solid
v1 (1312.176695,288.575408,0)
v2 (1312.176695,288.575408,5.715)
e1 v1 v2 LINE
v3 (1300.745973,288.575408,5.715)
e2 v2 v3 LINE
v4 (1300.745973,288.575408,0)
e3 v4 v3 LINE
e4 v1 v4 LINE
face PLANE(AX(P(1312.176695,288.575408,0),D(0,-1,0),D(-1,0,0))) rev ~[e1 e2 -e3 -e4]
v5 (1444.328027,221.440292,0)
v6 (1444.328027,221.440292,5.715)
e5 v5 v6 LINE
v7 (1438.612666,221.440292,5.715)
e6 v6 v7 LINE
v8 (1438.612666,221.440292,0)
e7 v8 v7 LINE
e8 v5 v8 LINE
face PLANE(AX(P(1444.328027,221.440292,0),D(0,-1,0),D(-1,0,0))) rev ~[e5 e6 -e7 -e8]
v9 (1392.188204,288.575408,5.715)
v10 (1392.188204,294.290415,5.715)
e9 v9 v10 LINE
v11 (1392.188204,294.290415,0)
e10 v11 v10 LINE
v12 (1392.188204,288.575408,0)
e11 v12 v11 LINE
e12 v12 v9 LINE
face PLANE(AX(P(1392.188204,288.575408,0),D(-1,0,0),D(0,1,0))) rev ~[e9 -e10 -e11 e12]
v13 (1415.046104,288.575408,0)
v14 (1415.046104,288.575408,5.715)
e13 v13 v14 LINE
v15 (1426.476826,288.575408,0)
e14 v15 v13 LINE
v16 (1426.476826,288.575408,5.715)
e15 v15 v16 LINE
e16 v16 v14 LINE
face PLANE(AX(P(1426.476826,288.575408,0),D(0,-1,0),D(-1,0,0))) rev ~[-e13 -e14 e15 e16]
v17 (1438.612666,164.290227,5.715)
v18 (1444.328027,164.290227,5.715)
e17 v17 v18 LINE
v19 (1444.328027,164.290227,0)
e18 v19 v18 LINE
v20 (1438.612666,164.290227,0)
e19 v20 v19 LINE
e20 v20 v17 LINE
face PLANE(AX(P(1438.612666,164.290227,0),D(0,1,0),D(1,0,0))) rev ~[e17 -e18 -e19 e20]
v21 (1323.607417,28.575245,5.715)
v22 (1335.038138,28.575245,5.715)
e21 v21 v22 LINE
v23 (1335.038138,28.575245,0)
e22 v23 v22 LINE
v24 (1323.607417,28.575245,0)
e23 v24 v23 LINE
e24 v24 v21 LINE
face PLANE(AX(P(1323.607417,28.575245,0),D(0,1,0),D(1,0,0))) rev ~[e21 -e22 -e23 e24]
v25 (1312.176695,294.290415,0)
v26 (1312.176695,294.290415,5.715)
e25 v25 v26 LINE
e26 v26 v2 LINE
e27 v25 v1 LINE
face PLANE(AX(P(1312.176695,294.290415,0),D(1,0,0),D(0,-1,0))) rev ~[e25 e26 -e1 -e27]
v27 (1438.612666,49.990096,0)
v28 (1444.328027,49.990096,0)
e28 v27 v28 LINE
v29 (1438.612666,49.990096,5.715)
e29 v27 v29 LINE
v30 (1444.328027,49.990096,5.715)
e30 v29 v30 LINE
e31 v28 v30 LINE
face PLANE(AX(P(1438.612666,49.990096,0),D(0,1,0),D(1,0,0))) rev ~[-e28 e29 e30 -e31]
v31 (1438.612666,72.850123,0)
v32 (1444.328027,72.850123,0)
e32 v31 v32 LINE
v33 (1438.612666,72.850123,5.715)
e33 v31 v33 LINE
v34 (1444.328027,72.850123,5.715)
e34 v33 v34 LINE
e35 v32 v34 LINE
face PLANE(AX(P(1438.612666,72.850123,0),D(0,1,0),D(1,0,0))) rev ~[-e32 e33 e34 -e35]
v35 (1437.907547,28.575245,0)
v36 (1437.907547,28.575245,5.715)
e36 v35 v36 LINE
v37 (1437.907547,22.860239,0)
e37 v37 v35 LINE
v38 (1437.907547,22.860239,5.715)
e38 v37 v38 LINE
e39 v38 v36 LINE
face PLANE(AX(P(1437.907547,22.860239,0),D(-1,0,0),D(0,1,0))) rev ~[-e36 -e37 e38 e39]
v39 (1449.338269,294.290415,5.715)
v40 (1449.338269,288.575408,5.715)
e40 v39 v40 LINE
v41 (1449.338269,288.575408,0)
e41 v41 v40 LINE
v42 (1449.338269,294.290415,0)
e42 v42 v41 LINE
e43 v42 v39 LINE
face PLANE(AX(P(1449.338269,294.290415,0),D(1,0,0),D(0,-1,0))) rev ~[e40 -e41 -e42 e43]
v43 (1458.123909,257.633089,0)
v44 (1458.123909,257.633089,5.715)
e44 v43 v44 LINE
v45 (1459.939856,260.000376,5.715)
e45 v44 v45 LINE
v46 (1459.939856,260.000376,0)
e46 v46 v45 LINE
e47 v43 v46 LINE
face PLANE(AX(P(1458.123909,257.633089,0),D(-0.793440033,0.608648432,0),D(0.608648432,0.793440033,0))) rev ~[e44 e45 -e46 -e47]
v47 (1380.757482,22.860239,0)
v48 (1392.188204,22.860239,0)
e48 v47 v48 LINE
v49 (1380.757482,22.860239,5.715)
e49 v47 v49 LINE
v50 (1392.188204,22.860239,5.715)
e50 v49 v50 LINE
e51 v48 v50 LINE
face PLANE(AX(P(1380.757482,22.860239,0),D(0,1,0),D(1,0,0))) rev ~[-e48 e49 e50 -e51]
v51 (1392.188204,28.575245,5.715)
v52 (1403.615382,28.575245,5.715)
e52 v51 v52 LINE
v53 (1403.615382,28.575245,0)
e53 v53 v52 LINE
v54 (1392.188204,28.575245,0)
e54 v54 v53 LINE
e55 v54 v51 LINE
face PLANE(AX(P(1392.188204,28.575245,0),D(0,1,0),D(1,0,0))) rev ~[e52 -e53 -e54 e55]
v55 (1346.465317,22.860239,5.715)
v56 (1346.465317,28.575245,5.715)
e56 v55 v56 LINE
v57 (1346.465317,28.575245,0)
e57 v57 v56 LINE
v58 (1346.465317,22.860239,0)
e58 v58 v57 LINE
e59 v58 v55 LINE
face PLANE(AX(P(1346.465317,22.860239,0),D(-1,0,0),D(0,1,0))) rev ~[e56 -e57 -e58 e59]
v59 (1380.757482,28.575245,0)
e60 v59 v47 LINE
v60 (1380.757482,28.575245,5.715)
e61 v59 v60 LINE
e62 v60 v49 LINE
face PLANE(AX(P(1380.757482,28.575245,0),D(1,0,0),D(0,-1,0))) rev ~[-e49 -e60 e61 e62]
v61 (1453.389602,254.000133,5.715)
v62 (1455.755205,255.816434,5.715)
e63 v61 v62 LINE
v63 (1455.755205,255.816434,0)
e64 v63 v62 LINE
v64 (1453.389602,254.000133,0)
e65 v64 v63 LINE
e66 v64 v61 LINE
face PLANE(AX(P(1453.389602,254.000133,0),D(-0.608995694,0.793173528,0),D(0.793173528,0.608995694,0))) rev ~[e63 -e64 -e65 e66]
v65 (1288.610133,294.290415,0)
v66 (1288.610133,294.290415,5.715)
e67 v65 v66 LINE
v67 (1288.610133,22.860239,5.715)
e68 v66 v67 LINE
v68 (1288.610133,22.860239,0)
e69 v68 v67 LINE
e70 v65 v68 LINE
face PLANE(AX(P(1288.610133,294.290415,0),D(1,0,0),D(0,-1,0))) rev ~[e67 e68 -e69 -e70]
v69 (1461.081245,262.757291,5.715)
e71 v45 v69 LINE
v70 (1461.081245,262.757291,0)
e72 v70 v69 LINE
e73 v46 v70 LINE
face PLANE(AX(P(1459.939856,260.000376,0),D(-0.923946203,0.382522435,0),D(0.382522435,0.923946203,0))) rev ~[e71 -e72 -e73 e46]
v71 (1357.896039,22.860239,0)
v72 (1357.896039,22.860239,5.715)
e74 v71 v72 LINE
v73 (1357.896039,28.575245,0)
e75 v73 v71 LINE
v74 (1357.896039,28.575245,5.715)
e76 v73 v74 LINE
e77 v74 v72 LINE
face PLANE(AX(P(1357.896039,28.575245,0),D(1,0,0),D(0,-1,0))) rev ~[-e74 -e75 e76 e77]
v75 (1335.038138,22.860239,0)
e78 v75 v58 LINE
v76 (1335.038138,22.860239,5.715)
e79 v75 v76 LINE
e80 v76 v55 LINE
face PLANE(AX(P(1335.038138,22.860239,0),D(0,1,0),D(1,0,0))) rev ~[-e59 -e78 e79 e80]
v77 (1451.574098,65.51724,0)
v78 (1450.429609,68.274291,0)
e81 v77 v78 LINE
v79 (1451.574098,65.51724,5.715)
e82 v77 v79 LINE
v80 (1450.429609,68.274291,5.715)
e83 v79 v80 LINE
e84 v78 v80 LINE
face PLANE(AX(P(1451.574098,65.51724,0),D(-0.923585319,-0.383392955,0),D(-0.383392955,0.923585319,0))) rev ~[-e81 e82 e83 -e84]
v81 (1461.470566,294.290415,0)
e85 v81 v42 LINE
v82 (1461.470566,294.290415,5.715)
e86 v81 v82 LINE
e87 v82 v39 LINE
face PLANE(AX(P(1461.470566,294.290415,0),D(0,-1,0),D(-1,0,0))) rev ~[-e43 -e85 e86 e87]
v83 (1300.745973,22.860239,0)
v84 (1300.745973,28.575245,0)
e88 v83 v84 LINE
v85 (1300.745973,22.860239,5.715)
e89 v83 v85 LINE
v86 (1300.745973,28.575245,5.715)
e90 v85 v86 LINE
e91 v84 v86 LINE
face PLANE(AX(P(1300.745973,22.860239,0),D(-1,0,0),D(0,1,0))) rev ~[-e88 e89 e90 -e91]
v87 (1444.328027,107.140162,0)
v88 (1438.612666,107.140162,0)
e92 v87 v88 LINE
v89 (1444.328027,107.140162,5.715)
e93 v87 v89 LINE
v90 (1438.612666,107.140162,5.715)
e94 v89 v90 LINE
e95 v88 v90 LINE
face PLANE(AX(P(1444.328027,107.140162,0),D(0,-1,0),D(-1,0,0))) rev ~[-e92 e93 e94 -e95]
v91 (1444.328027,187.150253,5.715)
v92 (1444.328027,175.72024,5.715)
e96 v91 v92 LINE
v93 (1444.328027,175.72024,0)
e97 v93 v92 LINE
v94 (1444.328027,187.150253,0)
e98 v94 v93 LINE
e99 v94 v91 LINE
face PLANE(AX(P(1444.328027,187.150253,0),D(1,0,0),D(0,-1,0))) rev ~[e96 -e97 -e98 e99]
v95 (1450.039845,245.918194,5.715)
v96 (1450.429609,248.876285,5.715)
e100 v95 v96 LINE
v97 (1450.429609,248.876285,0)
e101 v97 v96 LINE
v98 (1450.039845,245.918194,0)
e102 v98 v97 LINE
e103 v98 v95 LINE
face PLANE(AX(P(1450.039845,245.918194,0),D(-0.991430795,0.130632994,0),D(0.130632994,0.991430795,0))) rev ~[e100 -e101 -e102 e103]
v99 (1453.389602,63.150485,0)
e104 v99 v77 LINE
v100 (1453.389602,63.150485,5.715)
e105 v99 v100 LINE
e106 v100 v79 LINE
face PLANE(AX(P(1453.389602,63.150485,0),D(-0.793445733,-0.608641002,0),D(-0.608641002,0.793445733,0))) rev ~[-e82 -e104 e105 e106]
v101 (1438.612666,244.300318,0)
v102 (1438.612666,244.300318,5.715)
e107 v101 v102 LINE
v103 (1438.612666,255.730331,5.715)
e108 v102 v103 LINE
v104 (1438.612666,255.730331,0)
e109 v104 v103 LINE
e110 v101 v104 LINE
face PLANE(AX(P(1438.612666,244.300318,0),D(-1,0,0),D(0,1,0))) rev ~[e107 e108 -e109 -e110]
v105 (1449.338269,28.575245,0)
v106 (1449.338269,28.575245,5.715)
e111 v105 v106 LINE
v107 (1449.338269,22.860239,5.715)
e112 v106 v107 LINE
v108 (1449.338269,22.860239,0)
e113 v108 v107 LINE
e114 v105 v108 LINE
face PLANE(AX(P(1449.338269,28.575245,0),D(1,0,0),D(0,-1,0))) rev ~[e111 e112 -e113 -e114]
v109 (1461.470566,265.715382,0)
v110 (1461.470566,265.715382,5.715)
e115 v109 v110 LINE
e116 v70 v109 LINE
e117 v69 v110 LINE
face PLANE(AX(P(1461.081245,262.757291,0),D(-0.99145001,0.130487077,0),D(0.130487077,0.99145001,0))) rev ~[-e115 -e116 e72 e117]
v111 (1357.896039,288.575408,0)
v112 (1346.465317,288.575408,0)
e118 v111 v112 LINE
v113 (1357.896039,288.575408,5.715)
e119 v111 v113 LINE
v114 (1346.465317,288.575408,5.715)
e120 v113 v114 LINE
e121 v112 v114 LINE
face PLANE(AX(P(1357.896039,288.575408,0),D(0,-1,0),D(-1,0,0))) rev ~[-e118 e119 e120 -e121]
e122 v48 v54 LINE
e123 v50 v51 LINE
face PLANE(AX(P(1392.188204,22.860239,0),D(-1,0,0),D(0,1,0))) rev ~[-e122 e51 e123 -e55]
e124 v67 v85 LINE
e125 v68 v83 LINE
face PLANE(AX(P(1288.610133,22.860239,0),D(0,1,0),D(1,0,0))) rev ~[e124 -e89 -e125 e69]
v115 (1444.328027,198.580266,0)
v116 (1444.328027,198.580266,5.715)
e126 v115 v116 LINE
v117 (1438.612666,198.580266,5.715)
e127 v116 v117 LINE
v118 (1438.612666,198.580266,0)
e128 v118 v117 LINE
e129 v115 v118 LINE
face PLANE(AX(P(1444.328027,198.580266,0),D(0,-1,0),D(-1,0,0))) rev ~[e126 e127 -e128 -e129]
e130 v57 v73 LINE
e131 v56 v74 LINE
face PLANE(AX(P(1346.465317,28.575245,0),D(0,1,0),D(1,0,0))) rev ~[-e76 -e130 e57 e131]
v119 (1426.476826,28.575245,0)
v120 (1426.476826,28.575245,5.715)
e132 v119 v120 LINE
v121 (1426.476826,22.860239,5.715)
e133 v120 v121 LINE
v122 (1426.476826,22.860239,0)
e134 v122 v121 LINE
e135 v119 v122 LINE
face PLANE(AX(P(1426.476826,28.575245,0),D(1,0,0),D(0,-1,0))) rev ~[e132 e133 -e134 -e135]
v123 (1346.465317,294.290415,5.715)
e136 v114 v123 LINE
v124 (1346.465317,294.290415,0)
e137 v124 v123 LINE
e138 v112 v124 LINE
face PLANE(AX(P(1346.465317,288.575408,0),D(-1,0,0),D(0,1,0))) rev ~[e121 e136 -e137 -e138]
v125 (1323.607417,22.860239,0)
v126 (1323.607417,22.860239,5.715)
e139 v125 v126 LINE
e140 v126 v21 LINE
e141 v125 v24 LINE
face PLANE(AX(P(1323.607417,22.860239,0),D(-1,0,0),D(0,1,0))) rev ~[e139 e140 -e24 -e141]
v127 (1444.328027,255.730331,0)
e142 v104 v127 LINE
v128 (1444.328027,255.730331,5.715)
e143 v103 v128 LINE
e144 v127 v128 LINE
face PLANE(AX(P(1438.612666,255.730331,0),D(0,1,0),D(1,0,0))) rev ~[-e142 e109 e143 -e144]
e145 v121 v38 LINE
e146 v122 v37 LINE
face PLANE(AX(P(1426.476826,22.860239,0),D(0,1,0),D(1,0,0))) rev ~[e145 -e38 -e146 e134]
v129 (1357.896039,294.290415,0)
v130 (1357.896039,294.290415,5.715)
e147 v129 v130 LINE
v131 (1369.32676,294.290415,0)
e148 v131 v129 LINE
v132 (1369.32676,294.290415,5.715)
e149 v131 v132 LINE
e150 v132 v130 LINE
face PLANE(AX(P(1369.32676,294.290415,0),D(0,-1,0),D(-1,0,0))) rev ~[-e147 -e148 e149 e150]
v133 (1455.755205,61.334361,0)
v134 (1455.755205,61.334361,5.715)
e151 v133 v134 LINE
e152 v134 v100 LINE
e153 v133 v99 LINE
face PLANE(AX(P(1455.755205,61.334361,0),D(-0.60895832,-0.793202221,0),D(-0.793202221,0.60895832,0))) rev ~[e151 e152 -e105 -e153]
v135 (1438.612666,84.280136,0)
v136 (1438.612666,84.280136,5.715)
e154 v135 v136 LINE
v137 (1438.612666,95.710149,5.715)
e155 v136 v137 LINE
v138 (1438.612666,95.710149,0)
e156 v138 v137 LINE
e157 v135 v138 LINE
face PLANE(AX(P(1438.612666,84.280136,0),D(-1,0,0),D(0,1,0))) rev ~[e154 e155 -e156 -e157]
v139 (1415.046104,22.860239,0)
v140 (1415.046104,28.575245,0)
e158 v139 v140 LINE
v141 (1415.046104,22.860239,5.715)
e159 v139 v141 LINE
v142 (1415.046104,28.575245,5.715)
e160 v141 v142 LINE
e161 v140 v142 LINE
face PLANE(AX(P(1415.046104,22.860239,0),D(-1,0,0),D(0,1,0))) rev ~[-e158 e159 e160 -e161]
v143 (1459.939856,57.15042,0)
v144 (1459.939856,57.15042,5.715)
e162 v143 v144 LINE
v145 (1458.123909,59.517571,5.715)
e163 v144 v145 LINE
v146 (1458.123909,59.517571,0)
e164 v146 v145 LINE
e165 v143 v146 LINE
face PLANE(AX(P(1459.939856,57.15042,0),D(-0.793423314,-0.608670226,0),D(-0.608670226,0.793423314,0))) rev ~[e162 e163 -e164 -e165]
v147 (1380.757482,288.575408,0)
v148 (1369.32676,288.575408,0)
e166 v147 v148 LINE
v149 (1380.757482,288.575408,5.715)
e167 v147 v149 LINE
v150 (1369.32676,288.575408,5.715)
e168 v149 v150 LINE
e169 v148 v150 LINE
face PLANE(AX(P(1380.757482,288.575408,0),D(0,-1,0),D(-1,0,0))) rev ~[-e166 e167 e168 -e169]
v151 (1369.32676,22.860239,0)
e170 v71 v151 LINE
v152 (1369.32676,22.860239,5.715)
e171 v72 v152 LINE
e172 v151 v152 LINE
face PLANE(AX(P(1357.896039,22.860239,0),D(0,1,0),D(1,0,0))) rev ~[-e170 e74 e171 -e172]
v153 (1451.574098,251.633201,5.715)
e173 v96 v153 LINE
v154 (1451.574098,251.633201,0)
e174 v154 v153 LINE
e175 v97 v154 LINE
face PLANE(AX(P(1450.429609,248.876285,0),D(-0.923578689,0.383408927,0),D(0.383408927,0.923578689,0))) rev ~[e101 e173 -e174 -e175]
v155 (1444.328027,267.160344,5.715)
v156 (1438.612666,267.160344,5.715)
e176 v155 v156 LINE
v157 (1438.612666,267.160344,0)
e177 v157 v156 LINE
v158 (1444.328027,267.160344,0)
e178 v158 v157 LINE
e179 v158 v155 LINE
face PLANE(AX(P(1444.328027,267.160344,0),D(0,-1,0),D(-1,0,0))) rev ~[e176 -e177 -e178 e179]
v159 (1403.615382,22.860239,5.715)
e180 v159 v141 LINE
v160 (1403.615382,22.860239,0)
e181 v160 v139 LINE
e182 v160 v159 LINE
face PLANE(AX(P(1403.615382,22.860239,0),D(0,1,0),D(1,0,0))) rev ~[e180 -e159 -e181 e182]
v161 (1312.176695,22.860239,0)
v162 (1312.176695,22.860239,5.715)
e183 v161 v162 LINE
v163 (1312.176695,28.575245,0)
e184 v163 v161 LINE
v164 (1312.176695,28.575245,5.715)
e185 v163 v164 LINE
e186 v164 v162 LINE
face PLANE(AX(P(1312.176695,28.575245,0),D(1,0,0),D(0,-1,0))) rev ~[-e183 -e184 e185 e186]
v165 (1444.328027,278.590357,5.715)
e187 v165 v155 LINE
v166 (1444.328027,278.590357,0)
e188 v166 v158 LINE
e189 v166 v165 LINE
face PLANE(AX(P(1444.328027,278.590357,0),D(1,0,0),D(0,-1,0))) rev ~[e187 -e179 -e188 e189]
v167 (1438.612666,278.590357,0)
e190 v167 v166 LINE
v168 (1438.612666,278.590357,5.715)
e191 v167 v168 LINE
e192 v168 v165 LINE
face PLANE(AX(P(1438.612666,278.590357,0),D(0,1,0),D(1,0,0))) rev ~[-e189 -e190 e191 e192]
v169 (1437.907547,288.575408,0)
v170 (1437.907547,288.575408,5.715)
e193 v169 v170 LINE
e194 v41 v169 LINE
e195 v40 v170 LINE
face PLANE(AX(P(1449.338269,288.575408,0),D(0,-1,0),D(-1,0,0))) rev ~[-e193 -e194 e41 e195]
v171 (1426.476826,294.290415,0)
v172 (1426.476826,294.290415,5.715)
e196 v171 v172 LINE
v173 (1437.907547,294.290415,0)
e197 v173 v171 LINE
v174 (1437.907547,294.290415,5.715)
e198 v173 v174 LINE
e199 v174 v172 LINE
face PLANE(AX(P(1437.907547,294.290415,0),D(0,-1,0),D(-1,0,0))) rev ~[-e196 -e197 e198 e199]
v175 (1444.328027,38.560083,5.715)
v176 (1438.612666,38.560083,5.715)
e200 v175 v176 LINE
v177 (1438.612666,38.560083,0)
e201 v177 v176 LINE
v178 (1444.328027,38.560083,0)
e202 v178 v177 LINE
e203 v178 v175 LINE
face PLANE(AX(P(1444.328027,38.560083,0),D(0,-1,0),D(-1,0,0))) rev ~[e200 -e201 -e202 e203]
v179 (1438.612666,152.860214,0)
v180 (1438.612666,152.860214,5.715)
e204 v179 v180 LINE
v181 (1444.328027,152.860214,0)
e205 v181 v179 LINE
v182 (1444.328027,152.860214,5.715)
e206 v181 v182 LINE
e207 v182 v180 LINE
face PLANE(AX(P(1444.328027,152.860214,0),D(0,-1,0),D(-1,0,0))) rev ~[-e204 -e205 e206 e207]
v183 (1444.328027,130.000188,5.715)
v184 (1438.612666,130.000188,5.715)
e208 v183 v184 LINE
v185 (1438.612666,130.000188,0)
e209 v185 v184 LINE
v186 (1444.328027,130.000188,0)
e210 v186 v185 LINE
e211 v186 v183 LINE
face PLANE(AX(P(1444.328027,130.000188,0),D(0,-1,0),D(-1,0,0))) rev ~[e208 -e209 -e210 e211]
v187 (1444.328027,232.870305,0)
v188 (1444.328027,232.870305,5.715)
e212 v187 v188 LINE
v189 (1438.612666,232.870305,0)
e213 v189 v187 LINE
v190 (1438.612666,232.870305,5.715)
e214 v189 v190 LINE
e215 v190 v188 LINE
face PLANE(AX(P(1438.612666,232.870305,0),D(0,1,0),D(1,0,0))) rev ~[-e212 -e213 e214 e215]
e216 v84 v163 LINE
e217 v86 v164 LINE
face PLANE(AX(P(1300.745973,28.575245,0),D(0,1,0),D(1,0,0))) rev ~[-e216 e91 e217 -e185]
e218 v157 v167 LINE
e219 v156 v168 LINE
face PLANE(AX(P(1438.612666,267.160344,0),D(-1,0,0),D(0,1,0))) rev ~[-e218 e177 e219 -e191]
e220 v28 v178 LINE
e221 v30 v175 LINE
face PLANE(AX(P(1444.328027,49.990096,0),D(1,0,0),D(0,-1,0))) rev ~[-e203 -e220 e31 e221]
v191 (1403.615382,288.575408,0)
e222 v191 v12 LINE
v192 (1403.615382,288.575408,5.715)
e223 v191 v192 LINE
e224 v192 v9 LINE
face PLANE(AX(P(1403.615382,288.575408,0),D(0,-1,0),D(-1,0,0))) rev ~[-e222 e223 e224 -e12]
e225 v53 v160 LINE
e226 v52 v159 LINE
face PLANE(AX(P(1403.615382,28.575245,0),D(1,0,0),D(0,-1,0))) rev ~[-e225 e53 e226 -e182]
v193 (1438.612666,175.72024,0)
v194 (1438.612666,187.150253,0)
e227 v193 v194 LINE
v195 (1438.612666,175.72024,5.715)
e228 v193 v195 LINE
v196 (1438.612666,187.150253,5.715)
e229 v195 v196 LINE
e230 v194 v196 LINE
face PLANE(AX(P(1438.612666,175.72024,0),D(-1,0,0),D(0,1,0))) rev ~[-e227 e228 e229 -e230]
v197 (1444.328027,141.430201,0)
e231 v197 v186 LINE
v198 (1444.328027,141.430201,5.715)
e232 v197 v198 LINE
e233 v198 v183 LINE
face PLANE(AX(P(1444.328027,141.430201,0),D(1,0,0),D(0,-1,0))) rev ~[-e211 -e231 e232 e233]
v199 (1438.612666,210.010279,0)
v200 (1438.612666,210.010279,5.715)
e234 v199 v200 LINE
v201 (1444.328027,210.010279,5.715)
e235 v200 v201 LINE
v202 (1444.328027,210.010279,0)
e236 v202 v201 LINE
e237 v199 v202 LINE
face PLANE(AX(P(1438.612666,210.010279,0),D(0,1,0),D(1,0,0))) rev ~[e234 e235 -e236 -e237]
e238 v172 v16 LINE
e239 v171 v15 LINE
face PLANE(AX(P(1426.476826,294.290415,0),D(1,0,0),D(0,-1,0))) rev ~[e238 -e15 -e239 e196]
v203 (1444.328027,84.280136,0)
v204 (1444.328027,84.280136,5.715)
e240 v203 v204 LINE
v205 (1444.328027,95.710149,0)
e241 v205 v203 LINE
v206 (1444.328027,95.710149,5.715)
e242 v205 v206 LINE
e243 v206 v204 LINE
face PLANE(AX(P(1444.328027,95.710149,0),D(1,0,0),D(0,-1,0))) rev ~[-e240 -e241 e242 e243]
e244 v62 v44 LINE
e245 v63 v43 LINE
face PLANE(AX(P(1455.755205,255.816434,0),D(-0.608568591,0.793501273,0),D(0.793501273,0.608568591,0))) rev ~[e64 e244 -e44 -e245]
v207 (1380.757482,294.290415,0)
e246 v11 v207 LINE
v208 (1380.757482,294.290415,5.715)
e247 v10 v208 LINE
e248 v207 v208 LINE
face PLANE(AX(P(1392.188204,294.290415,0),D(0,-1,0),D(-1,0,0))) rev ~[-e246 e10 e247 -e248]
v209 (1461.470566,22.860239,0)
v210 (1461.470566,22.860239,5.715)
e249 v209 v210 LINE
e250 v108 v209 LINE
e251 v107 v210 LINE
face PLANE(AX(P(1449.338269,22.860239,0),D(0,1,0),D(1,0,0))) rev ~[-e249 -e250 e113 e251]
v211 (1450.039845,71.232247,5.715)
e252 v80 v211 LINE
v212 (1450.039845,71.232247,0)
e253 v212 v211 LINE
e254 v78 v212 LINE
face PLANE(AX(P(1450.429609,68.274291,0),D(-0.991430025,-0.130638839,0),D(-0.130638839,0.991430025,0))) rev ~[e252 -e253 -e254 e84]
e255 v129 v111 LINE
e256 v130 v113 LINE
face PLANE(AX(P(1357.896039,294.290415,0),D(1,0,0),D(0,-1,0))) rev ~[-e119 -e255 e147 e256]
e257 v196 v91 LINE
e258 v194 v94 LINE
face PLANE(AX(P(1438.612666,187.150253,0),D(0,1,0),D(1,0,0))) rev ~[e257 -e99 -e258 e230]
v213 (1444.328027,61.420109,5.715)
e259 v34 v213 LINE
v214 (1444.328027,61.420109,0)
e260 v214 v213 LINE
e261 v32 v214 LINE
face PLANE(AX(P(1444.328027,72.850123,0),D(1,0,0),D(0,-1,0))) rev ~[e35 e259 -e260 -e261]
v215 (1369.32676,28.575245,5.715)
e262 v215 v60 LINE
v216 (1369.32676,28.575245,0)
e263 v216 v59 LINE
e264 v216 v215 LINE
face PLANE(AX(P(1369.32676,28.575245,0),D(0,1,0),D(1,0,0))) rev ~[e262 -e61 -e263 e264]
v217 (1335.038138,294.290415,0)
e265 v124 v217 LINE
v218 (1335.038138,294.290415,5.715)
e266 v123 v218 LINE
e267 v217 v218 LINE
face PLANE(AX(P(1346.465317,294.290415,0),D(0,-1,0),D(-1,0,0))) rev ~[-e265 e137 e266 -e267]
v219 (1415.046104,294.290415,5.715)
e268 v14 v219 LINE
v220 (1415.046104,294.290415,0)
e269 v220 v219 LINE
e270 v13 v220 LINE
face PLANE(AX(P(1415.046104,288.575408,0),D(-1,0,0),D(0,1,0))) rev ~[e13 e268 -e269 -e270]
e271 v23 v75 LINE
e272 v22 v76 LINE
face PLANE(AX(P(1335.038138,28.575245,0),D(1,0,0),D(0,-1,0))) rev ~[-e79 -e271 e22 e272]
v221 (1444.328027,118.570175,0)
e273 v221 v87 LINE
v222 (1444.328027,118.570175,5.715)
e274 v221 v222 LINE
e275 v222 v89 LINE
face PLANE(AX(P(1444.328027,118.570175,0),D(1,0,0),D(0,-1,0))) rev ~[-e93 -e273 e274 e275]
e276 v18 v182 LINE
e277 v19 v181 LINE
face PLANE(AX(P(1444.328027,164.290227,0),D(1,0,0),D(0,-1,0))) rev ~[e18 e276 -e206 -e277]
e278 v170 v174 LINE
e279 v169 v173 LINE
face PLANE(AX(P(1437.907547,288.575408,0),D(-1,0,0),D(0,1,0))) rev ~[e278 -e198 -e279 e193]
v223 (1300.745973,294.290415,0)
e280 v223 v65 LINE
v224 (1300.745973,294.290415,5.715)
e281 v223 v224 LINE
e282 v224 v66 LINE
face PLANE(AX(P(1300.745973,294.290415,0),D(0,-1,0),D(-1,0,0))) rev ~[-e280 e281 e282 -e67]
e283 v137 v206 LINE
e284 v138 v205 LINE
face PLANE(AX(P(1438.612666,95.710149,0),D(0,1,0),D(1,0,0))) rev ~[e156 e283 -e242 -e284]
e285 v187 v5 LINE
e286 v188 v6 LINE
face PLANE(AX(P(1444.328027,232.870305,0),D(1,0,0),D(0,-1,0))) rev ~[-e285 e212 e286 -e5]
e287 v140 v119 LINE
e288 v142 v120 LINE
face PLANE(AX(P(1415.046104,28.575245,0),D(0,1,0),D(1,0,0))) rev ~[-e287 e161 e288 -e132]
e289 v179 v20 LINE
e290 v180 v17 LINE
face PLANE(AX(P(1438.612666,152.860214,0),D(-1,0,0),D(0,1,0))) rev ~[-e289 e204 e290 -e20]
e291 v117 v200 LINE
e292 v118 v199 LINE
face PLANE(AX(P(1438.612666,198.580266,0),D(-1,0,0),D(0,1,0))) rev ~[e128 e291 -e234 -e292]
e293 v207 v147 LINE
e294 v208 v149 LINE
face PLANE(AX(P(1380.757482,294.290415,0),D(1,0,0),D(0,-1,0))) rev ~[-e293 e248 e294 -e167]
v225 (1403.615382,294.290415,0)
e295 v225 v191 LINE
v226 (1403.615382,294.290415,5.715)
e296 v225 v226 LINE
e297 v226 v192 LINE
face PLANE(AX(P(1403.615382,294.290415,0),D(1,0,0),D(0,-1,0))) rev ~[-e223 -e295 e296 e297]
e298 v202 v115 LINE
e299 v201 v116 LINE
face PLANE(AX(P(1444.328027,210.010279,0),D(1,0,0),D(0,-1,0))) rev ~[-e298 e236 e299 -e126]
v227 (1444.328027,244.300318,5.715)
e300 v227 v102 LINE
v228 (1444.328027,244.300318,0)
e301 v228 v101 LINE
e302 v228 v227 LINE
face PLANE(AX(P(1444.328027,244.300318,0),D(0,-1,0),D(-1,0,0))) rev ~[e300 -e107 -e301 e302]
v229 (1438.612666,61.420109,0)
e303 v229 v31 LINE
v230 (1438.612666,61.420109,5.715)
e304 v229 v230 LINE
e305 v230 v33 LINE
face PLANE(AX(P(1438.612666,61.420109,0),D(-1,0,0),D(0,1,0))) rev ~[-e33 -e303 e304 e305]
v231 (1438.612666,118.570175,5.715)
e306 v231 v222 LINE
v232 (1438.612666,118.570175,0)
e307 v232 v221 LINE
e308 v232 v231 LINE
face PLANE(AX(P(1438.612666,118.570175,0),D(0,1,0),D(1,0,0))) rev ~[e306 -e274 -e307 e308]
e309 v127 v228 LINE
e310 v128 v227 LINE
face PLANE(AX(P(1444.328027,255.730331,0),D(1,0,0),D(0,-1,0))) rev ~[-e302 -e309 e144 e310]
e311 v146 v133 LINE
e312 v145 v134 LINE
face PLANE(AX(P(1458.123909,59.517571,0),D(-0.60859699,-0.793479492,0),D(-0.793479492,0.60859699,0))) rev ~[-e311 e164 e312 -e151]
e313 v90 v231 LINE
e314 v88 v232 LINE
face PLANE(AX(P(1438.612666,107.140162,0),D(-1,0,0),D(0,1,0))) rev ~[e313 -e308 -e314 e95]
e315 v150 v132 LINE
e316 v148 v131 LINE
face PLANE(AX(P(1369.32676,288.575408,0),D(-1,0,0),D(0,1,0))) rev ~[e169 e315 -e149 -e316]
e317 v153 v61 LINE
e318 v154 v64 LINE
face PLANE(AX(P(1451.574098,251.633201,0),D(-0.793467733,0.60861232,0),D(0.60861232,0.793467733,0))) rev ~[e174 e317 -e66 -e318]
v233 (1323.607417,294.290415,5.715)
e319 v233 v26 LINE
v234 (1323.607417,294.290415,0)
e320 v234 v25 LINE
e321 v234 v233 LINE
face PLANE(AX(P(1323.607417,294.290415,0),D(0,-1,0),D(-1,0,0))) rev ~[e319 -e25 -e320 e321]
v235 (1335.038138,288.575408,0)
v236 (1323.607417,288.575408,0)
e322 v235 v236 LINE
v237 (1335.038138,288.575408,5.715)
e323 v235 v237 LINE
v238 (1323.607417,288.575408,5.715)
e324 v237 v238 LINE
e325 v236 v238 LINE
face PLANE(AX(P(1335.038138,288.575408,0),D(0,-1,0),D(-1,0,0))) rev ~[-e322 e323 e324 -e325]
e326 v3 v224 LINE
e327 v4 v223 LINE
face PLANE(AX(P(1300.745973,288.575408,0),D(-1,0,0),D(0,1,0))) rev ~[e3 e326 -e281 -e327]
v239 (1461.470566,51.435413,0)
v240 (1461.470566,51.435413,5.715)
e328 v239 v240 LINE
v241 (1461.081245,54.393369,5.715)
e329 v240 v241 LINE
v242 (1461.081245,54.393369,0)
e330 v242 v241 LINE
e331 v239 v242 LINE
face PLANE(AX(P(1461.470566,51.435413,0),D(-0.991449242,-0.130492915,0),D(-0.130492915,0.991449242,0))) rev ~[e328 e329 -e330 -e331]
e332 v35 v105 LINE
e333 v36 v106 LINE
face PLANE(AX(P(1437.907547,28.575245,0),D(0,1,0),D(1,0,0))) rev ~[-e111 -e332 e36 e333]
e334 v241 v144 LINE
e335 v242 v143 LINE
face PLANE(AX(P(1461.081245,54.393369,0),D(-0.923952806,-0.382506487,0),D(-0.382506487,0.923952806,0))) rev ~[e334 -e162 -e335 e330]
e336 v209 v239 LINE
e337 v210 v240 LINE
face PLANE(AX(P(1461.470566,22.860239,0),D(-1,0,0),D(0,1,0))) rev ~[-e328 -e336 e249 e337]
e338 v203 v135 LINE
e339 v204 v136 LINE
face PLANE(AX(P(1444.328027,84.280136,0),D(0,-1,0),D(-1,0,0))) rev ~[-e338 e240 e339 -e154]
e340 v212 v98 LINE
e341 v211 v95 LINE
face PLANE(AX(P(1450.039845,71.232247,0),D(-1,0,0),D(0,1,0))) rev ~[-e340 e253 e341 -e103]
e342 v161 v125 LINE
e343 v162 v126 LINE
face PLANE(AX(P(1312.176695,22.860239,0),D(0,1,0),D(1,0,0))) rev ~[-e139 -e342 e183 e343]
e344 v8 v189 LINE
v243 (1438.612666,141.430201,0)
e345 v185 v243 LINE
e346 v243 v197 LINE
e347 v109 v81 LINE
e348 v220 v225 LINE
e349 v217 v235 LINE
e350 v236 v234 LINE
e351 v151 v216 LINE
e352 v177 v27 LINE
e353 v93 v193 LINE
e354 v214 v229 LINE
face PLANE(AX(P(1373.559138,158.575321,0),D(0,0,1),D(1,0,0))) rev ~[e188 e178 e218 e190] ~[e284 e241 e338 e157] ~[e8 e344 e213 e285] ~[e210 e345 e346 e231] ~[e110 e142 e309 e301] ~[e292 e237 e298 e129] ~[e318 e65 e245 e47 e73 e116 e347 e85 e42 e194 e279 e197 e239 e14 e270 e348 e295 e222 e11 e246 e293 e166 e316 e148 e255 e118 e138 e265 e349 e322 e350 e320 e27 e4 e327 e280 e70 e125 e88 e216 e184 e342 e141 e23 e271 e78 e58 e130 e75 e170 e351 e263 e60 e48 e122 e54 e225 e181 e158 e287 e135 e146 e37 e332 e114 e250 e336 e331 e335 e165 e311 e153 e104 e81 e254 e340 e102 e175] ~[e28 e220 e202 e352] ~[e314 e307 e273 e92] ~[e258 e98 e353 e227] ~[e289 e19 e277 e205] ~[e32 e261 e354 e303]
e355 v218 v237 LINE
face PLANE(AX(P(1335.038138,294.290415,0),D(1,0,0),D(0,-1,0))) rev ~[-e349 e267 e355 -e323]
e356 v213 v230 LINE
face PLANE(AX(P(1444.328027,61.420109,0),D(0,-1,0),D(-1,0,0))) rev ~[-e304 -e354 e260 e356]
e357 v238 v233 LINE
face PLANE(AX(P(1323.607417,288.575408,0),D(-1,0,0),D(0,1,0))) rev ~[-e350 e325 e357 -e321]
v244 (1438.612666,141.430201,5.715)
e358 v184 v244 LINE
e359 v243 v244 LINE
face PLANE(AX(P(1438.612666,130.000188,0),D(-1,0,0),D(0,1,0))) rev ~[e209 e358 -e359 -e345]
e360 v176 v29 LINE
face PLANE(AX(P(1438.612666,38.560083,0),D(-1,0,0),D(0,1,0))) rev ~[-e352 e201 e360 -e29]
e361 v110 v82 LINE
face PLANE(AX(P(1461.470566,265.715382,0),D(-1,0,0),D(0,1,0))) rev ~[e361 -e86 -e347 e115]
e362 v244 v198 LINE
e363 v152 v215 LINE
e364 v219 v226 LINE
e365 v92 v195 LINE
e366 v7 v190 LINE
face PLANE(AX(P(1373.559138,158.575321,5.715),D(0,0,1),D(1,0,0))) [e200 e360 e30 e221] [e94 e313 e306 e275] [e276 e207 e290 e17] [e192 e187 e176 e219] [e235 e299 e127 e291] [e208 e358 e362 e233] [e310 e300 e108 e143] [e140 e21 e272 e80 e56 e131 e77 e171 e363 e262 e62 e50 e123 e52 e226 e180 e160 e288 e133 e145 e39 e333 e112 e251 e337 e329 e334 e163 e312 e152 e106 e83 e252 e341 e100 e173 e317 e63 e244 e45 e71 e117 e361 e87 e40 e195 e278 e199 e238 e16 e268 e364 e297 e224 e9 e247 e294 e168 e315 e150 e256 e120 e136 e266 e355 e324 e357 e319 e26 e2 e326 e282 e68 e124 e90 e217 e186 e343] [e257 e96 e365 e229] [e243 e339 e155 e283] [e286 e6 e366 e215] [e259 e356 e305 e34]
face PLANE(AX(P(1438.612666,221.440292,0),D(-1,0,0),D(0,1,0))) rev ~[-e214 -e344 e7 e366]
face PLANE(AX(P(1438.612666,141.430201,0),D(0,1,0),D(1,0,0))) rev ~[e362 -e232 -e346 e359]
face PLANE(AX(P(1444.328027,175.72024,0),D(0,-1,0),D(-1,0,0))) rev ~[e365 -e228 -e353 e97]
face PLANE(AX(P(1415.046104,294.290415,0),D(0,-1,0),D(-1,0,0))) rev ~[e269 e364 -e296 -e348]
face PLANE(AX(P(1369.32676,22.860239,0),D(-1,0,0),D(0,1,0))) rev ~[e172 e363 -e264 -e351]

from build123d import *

# Parameters (mm, degrees)
BOSS_EXTRUDE1_DEPTH = 5.715


with BuildPart() as part:
    # Model → Boss-Extrude1 (new body)
    with BuildSketch(Plane.XY):
        Polygon((1288.610132665, 22.860238699), (1300.745973293, 22.860238699), (1300.745973293, 28.575245224), (1312.176695005, 28.575245224), (1312.176695005, 22.860238699), (1323.607416717, 22.860238699), (1323.607416717, 28.575245224), (1335.038138429, 28.575245224), (1335.038138429, 22.860238699), (1346.46531683, 22.860238699), (1346.46531683, 28.575245224), (1357.896038543, 28.575245224), (1357.896038543, 22.860238699), (1369.326760255, 22.860238699), (1369.326760255, 28.575245224), (1380.757481967, 28.575245224), (1380.757481967, 22.860238699), (1392.188203679, 22.860238699), (1392.188203679, 28.575245224), (1403.615382081, 28.575245224), (1403.615382081, 22.860238699), (1415.046103793, 22.860238699), (1415.046103793, 28.575245224), (1426.476825505, 28.575245224), (1426.476825505, 22.860238699), (1437.907547217, 22.860238699), (1437.907547217, 28.575245224), (1449.33826893, 28.575245224), (1449.33826893, 22.860238699), (1461.470566246, 22.860238699), (1461.470566246, 28.575245224), (1461.470566246, 51.435413056), (1461.081244935, 54.393369189), (1459.939855837, 57.150419581), (1458.123908882, 59.517571103), (1455.75520539, 61.334361366), (1453.389602295, 63.150485487), (1451.574098254, 65.517240157), (1450.429608758, 68.274290549), (1450.039844534, 71.232246682), (1450.039844534, 245.918194159), (1450.429608758, 248.876284937), (1451.574098254, 251.633200684), (1453.389602295, 254.00013252), (1455.75520539, 255.816433806), (1458.123908882, 257.633089424), (1459.939855837, 260.000375591), (1461.081244935, 262.757291337), (1461.470566246, 265.715382116), (1461.470566246, 288.575408216), (1461.470566246, 294.290414741), (1449.33826893, 294.290414741), (1449.33826893, 288.575408216), (1437.907547217, 288.575408216), (1437.907547217, 294.290414741), (1426.476825505, 294.290414741), (1426.476825505, 288.575408216), (1415.046103793, 288.575408216), (1415.046103793, 294.290414741), (1403.615382081, 294.290414741), (1403.615382081, 288.575408216), (1392.188203679, 288.575408216), (1392.188203679, 294.290414741), (1380.757481967, 294.290414741), (1380.757481967, 288.575408216), (1369.326760255, 288.575408216), (1369.326760255, 294.290414741), (1357.896038543, 294.290414741), (1357.896038543, 288.575408216), (1346.46531683, 288.575408216), (1346.46531683, 294.290414741), (1335.038138429, 294.290414741), (1335.038138429, 288.575408216), (1323.607416717, 288.575408216), (1323.607416717, 294.290414741), (1312.176695005, 294.290414741), (1312.176695005, 288.575408216), (1300.745973293, 288.575408216), (1300.745973293, 294.290414741), (1288.610132665, 294.290414741), (1288.610132665, 288.575408216), (1288.610132665, 28.575245224), align=None)
        Polygon((1444.328026989, 44.27508992), (1444.328026989, 38.560083395), (1438.612666133, 38.560083395), (1438.612666133, 49.990096445), (1444.328026989, 49.990096445), align=None, mode=Mode.SUBTRACT)
        Polygon((1444.328026989, 67.13511602), (1444.328026989, 61.420109495), (1438.612666133, 61.420109495), (1438.612666133, 72.850122545), (1444.328026989, 72.850122545), align=None, mode=Mode.SUBTRACT)
        Polygon((1444.328026989, 89.99514212), (1444.328026989, 84.280135595), (1438.612666133, 84.280135595), (1438.612666133, 95.710148645), (1444.328026989, 95.710148645), align=None, mode=Mode.SUBTRACT)
        Polygon((1444.328026989, 112.85516822), (1444.328026989, 107.140161695), (1438.612666133, 107.140161695), (1438.612666133, 118.570174745), (1444.328026989, 118.570174745), align=None, mode=Mode.SUBTRACT)
        Polygon((1444.328026989, 135.71519432), (1444.328026989, 130.000187795), (1438.612666133, 130.000187795), (1438.612666133, 141.430200846), (1444.328026989, 141.430200846), align=None, mode=Mode.SUBTRACT)
        Polygon((1444.328026989, 158.575220421), (1444.328026989, 152.860213896), (1438.612666133, 152.860213896), (1438.612666133, 164.290226946), (1444.328026989, 164.290226946), align=None, mode=Mode.SUBTRACT)
        Polygon((1444.328026989, 181.435246521), (1444.328026989, 175.720239996), (1438.612666133, 175.720239996), (1438.612666133, 187.150253046), (1444.328026989, 187.150253046), align=None, mode=Mode.SUBTRACT)
        Polygon((1444.328026989, 204.295272621), (1444.328026989, 198.580266096), (1438.612666133, 198.580266096), (1438.612666133, 210.010279146), (1444.328026989, 210.010279146), align=None, mode=Mode.SUBTRACT)
        Polygon((1444.328026989, 227.155298721), (1444.328026989, 221.440292196), (1438.612666133, 221.440292196), (1438.612666133, 232.870305246), (1444.328026989, 232.870305246), align=None, mode=Mode.SUBTRACT)
        Polygon((1444.328026989, 250.015324821), (1444.328026989, 244.300318296), (1438.612666133, 244.300318296), (1438.612666133, 255.730331346), (1444.328026989, 255.730331346), align=None, mode=Mode.SUBTRACT)
        Polygon((1444.328026989, 272.875350921), (1444.328026989, 267.160344396), (1438.612666133, 267.160344396), (1438.612666133, 278.590357446), (1444.328026989, 278.590357446), align=None, mode=Mode.SUBTRACT)
    extrude(amount=BOSS_EXTRUDE1_DEPTH)


solid = part.part
